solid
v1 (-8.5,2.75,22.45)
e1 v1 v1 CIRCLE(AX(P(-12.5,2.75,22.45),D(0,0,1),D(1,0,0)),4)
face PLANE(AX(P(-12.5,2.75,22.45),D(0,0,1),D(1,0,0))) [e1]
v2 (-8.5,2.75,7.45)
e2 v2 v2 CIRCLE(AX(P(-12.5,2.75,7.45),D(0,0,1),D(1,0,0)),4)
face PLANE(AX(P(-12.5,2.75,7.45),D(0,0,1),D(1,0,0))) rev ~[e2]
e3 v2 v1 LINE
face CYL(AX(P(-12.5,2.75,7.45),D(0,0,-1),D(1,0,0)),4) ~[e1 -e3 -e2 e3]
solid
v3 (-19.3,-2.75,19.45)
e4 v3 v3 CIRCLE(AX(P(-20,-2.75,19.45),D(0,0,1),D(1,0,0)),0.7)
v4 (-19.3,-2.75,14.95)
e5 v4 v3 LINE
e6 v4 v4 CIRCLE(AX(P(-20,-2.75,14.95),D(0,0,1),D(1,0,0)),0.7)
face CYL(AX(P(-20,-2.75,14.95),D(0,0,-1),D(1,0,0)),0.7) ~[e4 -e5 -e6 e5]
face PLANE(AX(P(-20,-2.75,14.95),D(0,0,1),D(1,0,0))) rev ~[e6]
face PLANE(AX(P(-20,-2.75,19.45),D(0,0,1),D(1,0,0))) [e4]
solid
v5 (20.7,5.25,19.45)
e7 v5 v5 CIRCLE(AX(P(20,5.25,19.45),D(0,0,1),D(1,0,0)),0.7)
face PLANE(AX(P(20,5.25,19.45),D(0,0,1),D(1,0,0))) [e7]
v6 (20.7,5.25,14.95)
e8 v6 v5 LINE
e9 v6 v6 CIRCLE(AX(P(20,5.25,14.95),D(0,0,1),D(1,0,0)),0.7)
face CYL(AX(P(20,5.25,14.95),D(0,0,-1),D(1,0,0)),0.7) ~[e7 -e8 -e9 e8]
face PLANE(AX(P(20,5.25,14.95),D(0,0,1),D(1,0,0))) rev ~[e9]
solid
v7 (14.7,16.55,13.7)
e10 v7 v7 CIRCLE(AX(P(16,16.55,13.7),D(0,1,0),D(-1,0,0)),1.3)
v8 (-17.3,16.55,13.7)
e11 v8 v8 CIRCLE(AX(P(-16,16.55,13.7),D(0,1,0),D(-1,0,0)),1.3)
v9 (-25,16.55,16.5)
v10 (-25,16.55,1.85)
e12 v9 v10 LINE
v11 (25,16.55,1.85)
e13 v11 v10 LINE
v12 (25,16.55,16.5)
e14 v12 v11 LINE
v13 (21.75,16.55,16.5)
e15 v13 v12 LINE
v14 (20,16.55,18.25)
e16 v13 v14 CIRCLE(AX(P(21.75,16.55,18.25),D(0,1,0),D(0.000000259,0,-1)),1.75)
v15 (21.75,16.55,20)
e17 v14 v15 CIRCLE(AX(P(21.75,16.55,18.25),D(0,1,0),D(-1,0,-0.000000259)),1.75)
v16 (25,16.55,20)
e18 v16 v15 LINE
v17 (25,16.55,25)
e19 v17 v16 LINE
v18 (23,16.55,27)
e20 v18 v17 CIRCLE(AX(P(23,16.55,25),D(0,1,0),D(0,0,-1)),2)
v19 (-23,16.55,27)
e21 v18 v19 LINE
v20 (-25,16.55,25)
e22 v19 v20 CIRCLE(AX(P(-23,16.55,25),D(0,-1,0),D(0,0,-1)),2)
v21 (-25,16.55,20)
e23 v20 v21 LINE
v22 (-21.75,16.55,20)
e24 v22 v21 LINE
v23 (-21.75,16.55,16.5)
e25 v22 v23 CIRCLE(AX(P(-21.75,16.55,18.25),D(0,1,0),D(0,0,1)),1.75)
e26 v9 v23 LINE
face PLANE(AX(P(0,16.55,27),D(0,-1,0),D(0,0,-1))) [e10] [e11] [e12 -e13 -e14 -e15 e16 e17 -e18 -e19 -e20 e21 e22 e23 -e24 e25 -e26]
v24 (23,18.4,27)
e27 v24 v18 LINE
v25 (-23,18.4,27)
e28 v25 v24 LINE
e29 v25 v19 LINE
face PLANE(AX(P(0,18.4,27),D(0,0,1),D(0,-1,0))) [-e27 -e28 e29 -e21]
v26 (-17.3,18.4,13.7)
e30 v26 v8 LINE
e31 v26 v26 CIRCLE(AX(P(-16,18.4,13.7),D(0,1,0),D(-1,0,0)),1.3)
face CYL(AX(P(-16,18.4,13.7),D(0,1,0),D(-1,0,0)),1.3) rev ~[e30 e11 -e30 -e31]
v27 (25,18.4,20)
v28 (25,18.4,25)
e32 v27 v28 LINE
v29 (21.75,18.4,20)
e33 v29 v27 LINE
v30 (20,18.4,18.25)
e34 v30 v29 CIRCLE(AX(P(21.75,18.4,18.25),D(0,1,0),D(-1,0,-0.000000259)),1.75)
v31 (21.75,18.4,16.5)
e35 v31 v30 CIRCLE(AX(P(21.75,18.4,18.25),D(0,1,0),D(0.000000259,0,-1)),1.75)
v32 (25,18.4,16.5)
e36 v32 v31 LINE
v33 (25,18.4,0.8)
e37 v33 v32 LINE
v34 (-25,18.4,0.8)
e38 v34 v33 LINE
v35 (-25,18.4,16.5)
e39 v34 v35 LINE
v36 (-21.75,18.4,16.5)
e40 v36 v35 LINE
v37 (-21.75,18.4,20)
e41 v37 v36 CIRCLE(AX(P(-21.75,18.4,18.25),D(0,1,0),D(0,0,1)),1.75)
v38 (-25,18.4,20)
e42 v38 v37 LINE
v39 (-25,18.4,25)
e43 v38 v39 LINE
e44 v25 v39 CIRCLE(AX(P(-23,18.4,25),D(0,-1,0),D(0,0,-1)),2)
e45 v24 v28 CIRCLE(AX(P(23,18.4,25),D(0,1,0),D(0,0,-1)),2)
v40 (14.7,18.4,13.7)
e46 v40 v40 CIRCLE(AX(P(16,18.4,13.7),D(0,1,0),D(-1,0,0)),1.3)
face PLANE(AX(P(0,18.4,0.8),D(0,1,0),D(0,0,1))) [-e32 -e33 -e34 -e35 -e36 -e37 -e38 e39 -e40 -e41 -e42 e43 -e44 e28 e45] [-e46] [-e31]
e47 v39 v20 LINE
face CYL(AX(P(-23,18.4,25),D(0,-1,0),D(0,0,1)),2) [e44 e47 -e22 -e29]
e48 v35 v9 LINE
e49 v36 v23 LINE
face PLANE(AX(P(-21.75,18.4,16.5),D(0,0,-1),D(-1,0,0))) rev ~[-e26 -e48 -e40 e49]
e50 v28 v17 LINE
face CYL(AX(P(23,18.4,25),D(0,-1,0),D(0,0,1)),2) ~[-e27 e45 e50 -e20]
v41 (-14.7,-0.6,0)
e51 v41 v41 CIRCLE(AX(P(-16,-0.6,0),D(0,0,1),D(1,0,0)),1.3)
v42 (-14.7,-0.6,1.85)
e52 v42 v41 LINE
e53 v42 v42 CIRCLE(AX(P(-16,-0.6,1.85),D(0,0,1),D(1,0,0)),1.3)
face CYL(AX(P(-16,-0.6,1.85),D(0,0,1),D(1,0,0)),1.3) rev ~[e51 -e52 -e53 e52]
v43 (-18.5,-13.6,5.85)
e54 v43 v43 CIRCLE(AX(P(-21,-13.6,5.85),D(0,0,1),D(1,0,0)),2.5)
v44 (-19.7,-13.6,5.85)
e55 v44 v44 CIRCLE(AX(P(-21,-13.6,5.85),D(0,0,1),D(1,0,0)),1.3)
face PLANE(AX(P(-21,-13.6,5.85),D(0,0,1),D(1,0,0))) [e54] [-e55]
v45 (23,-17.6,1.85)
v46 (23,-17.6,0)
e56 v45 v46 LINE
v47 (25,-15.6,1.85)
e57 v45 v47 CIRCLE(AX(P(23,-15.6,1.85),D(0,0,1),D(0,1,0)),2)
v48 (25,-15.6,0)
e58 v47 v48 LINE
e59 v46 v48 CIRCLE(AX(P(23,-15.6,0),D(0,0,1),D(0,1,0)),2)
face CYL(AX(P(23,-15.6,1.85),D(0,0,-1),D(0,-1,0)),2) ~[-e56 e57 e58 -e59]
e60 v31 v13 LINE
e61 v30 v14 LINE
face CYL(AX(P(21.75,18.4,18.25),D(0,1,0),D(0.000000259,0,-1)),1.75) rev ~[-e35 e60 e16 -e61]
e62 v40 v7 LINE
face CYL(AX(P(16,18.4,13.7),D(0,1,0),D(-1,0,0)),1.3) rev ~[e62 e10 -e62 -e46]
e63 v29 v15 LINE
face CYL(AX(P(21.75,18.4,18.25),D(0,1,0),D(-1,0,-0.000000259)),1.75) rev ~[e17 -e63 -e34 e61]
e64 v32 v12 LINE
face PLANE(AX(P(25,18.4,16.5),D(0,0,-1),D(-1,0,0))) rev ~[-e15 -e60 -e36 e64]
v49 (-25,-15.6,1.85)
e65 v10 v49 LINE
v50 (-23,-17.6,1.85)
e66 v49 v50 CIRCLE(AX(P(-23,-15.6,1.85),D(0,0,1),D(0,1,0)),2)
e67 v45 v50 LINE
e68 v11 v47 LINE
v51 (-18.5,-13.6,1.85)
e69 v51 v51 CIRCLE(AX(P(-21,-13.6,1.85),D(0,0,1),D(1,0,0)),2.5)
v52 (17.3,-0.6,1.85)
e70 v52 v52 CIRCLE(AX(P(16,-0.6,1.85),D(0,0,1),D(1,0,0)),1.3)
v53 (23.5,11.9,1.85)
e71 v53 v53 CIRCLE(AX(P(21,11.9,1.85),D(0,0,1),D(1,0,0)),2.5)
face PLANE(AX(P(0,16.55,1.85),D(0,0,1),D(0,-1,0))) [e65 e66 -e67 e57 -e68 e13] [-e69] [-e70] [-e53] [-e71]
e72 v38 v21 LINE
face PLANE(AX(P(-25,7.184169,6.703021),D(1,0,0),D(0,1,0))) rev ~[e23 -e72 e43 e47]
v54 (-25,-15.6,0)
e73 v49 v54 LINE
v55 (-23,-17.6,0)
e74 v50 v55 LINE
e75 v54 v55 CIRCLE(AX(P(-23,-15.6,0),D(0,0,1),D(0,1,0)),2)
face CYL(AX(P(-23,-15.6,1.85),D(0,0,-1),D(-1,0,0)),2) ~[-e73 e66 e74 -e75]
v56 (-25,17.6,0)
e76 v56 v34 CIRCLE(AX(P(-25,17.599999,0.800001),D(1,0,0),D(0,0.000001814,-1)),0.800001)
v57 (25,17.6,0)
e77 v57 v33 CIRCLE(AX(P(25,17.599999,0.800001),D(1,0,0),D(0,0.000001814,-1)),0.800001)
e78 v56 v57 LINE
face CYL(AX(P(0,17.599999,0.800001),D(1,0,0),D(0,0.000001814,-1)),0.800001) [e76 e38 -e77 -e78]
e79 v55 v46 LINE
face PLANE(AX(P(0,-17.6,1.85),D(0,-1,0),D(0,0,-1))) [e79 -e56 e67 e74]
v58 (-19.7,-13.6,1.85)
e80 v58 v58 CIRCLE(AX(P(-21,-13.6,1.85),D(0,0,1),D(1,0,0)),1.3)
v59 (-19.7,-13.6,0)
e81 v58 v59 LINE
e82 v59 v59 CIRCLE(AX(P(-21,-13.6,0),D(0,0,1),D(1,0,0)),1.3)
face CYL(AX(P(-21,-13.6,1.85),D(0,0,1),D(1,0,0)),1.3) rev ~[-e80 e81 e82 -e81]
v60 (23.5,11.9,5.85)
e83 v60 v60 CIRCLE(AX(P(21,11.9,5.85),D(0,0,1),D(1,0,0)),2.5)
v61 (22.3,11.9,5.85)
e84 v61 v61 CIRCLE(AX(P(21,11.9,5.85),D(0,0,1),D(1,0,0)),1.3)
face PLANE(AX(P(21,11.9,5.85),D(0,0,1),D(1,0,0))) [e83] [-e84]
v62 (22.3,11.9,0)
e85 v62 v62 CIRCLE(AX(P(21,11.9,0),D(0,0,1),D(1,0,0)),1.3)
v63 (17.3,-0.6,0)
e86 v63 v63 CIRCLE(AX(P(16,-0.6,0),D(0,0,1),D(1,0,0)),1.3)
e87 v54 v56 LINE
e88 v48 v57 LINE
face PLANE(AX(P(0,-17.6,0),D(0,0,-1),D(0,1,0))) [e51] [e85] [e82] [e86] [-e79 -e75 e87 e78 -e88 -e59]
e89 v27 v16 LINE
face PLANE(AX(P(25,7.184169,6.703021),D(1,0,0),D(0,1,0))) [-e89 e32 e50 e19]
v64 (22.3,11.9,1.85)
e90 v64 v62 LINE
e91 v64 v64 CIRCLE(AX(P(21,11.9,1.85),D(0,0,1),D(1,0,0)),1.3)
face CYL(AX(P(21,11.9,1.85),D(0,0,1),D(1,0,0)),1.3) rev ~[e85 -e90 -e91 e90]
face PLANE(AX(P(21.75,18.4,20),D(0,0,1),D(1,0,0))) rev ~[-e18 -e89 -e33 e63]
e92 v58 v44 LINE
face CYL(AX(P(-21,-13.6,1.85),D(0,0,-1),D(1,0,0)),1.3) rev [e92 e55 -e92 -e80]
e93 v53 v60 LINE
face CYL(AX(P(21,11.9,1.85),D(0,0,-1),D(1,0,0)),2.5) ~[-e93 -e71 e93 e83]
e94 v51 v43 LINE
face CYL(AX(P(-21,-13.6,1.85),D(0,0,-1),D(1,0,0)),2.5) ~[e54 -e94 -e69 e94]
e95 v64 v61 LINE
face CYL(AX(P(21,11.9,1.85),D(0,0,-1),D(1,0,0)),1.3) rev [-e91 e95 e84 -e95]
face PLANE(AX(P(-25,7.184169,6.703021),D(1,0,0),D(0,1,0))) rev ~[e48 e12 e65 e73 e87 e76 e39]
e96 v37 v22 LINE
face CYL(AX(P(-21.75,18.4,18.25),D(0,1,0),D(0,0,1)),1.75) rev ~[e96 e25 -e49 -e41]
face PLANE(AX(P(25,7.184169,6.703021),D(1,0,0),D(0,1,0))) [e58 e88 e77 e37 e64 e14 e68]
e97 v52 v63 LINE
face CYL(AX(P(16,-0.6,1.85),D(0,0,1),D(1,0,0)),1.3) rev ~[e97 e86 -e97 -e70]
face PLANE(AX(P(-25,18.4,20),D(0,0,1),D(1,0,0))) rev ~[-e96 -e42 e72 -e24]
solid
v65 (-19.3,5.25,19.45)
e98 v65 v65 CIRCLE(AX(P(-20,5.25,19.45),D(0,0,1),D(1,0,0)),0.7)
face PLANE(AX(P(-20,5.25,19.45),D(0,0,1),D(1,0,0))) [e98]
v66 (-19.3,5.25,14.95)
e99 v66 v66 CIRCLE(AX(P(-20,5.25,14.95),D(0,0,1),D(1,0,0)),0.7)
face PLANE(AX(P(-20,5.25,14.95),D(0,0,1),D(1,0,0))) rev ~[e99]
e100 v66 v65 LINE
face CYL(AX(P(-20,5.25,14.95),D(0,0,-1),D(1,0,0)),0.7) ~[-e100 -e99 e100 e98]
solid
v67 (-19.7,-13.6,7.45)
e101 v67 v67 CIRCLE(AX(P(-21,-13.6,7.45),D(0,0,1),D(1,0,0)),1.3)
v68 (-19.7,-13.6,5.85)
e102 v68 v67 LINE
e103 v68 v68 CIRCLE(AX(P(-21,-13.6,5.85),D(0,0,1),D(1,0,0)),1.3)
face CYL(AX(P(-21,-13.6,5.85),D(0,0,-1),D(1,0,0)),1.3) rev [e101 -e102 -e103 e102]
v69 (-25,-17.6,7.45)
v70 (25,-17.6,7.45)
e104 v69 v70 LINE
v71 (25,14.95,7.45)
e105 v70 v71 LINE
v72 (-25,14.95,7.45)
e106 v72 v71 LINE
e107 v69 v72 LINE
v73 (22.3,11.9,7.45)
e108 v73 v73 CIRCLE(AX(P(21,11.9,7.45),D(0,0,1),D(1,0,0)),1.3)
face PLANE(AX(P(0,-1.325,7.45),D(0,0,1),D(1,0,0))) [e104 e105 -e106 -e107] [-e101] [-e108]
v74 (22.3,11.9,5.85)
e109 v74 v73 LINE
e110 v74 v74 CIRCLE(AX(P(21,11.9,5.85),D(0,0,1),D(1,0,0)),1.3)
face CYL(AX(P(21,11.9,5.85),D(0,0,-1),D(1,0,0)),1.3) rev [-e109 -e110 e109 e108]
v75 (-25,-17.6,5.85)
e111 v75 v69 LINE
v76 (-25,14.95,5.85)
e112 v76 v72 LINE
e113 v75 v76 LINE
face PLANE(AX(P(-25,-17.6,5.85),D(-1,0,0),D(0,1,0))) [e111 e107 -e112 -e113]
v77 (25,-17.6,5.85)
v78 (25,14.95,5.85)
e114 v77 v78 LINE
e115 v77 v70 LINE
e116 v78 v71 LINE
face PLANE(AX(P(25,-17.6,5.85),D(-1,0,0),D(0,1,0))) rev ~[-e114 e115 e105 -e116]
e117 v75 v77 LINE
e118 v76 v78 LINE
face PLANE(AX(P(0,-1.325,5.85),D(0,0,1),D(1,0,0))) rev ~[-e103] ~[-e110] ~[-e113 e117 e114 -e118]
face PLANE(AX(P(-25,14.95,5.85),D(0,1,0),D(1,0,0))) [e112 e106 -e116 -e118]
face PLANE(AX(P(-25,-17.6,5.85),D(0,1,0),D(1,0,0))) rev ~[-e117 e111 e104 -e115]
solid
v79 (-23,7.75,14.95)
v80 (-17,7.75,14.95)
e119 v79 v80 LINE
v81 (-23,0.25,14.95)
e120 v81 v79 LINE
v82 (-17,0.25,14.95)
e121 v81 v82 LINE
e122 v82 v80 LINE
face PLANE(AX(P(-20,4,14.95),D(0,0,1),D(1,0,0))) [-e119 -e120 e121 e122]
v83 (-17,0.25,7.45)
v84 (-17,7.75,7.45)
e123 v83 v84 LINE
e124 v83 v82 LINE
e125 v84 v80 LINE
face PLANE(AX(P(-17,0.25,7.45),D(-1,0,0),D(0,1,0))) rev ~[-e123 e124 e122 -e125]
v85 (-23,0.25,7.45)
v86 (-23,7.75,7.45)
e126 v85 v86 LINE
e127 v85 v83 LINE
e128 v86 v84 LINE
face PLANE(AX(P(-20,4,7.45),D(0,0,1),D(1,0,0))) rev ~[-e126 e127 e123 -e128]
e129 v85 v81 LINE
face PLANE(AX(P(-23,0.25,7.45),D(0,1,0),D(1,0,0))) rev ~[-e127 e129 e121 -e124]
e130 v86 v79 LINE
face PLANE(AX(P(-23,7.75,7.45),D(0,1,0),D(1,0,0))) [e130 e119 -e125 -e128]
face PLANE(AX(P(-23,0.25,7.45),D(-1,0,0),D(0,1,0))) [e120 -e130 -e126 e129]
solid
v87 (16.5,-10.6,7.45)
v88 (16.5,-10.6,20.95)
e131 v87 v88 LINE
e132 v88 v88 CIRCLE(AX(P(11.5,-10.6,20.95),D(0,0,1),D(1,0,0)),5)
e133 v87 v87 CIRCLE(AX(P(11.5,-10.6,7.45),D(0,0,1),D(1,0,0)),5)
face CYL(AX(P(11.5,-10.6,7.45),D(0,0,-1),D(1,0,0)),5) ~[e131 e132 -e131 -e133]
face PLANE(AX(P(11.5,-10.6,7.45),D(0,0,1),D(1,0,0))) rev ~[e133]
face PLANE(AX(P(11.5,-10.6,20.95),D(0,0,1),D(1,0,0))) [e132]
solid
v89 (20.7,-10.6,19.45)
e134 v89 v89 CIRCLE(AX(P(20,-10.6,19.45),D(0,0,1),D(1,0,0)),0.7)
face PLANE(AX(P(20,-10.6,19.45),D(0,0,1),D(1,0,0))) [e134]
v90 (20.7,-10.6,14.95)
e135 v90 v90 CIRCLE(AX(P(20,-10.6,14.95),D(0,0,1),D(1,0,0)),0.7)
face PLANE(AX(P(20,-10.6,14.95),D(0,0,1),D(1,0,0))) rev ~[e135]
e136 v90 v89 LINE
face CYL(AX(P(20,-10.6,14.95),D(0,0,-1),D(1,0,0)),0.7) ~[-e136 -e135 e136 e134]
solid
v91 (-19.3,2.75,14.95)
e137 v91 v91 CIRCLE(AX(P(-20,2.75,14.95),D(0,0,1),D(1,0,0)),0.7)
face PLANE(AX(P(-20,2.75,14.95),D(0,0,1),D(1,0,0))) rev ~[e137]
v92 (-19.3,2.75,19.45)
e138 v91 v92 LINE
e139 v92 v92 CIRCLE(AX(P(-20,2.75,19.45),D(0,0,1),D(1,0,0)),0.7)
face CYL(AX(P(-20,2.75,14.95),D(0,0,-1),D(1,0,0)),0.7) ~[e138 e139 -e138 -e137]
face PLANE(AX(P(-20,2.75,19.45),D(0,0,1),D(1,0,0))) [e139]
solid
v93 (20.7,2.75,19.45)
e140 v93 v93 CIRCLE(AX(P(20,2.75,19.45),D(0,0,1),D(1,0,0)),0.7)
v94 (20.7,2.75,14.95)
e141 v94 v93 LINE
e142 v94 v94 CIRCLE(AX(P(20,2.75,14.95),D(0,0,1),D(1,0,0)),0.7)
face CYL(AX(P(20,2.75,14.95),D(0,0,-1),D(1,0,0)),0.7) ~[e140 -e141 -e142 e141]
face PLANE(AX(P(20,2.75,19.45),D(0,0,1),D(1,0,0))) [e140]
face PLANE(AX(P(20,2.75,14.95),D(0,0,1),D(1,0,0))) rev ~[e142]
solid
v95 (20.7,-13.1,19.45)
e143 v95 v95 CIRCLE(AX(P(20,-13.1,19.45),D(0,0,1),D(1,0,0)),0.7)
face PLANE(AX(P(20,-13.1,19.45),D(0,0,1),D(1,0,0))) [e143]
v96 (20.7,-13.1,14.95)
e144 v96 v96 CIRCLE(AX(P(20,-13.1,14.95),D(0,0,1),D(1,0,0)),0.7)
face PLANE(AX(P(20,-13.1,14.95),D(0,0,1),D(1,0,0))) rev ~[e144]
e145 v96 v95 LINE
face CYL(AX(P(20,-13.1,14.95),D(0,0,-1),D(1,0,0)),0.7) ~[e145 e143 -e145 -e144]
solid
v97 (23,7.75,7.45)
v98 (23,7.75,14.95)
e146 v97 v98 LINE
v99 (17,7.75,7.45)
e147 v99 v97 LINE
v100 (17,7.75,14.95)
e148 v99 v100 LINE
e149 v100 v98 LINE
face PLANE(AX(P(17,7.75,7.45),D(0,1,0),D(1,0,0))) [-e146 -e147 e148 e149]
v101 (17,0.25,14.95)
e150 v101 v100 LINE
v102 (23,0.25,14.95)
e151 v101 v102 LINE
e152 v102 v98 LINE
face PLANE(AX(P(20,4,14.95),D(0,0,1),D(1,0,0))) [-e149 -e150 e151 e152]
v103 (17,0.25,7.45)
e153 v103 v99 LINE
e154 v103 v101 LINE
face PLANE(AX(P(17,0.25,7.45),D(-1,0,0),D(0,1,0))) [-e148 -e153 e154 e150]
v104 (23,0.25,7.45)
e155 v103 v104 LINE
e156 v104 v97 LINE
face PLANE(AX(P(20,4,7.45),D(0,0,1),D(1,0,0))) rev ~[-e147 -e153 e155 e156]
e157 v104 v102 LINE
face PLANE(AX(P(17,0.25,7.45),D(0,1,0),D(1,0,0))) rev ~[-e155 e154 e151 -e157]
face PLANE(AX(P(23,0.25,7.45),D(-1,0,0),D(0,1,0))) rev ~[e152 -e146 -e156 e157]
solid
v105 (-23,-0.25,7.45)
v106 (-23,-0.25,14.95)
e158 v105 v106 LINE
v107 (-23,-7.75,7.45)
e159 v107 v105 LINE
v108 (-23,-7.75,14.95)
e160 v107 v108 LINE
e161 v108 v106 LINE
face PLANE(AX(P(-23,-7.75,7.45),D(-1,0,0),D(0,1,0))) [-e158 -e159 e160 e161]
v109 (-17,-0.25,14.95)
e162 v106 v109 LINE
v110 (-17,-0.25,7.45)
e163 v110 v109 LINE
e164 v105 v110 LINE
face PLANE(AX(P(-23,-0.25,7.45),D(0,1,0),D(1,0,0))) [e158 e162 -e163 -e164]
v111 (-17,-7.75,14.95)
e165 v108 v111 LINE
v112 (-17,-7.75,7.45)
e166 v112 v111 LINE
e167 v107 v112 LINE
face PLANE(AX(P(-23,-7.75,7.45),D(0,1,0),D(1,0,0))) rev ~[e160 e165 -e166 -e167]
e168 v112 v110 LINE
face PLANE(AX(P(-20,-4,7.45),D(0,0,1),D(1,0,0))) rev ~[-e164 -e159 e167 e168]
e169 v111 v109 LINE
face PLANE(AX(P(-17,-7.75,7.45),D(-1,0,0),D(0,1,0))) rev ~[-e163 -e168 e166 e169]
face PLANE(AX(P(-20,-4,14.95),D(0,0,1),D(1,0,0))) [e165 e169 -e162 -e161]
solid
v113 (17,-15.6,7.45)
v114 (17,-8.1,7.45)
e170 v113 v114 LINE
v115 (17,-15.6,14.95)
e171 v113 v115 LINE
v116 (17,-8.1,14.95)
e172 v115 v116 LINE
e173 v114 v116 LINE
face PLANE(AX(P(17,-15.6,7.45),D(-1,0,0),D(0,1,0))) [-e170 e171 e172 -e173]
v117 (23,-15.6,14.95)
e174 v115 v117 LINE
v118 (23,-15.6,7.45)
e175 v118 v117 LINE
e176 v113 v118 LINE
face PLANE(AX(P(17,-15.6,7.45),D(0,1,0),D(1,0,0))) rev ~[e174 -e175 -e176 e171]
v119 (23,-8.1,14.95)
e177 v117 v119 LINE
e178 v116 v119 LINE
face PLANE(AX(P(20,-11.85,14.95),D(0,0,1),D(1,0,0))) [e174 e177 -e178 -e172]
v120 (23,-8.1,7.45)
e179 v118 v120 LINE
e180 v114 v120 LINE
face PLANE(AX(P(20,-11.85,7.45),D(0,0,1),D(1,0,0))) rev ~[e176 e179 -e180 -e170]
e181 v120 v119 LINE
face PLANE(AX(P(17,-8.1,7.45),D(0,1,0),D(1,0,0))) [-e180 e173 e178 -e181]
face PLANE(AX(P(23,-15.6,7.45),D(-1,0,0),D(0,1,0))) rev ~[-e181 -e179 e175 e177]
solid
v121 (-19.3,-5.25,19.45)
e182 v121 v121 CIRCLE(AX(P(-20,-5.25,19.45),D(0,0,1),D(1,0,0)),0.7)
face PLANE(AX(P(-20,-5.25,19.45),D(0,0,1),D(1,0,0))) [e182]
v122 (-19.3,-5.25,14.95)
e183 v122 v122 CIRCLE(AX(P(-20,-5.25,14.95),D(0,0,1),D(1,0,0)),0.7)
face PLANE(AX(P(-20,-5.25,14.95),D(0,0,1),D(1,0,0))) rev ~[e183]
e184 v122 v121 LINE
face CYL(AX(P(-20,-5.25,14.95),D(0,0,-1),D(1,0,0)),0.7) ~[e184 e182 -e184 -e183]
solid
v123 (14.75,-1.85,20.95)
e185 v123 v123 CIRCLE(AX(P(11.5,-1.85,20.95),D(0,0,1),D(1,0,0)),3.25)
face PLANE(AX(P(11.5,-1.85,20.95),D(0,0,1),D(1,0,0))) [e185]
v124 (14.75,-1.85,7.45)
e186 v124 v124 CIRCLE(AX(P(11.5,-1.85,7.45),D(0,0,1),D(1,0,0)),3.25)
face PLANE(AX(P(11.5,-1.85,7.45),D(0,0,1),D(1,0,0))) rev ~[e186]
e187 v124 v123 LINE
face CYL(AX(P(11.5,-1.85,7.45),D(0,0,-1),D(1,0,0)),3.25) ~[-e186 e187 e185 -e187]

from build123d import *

# Parameters (mm, degrees)
F1_DEPTH  = 25
F2_R      = 1.3
F3_DEPTH  = 1.851
F2_R_2    = 2.5
F4_DEPTH  = 4
F5_R      = 1.3
F6_DEPTH  = 36.001
F7_R      = 2
F8_W      = 50
F8_H      = 32.55
F8_R      = 2.5
F8_R_2    = 1.3
F9_DEPTH  = 1.6
F10_W     = 6
F10_H     = 7.5
F11_DEPTH = 7.5
F10_R     = 5
F10_R_2   = 3.25
F12_DEPTH = 13.5
F10_R_3   = 4
F13_DEPTH = 15
F14_R     = 0.7
F15_DEPTH = 4.5


with BuildPart() as f1:
    # F0 (on Right) → F1 (new body, symmetric)
    with BuildSketch(Plane.YZ):
        with BuildLine():
            Line((-17.6, 1.85), (-17.6, 0))
            Line((-17.6, 0), (17.6, 0))
            ThreePointArc((17.6, 0), (18.165685, 0.234315), (18.4, 0.8))
            Line((18.4, 0.8), (18.4, 27))
            Line((18.4, 27), (16.55, 27))
            Line((16.55, 27), (16.55, 1.85))
            Line((16.55, 1.85), (-17.6, 1.85))
        make_face()
    extrude(amount=F1_DEPTH, both=True)

    # F2 (on face) → F3 (cut, through all)
    with BuildSketch(Plane.XY.offset(1.85)):
        with Locations((-21, -13.6)):
            Circle(F2_R)
        with Locations((-16, -0.6)):
            Circle(F2_R)
        with Locations((21, 11.9)):
            Circle(F2_R)
        with Locations((16, -0.6)):
            Circle(F2_R)
    extrude(amount=-F3_DEPTH, mode=Mode.SUBTRACT)

    # F2 (on face) → F4 (join)
    with BuildSketch(Plane.XY.offset(1.85)):
        with Locations((-21, -13.6)):
            Circle(F2_R_2)
        with Locations((-21, -13.6)):
            Circle(F2_R, mode=Mode.SUBTRACT)
        with Locations((21, 11.9)):
            Circle(F2_R_2)
        with Locations((21, 11.9)):
            Circle(F2_R, mode=Mode.SUBTRACT)
    extrude(amount=F4_DEPTH)

    # F5 (on face) → F6 (cut, through all)
    with BuildSketch(Plane(origin=(0, 18.4, 0), x_dir=(-1, 0, 0), z_dir=(0, 1, 0))):
        with Locations((-16, 13.7)):
            Circle(F5_R)
        with Locations((16, 13.7)):
            Circle(F5_R)
        with BuildLine():
            Line((25, 16.5), (25, 20))
            Line((25, 20), (21.75, 20))
            ThreePointArc((21.75, 20), (22.987437, 19.487437), (23.5, 18.25))
            ThreePointArc((23.5, 18.25), (22.987437, 17.012563), (21.75, 16.5))
            Line((21.75, 16.5), (25, 16.5))
        make_face()
        with BuildLine():
            ThreePointArc((23.5, 18.25), (22.987437, 19.487437), (21.75, 20))
            ThreePointArc((21.75, 20), (20, 18.25), (21.75, 16.5))
            ThreePointArc((21.75, 16.5), (22.987437, 17.012563), (23.5, 18.25))
        make_face()
        with BuildLine():
            ThreePointArc((-21.75, 16.5), (-23.5, 18.25), (-21.75, 20))
            Line((-21.75, 20), (-25, 20))
            Line((-25, 20), (-25, 16.5))
            Line((-25, 16.5), (-21.75, 16.5))
        make_face()
        with BuildLine():
            ThreePointArc((-21.75, 16.5), (-20.512563, 17.012563), (-20, 18.25))
            ThreePointArc((-20, 18.25), (-20.512563, 19.487437), (-21.75, 20))
            ThreePointArc((-21.75, 20), (-23.5, 18.25), (-21.75, 16.5))
        make_face()
    extrude(amount=-F6_DEPTH, mode=Mode.SUBTRACT)

    # F7
    f7_edges = [f1.edges().sort_by_distance(p)[0] for p in [
        (25, -17.6, 0.925),
        (-25, -17.6, 0.925),
        (-25, 17.475, 27),
        (25, 17.475, 27),
    ]]
    fillet(f7_edges, radius=F7_R)


with BuildPart() as f9:
    # F8 (on face) → F9 (new body)
    with BuildSketch(Plane.XY.offset(5.85)):
        with Locations((0, -1.325)):
            Rectangle(F8_W, F8_H)
        with Locations((-21, -13.6)):
            Circle(F8_R, mode=Mode.SUBTRACT)
        with Locations((21, 11.9)):
            Circle(F8_R_2, mode=Mode.SUBTRACT)
        with Locations((-21, -13.6)):
            Circle(F8_R)
        with Locations((-21, -13.6)):
            Circle(F8_R_2, mode=Mode.SUBTRACT)
    extrude(amount=F9_DEPTH)


with BuildPart() as f11:
    # F10 (on face) → F11 (new body)
    with BuildSketch(Plane.XY.offset(7.45)):
        with Locations((-20, 4)):
            Rectangle(F10_W, F10_H)
        with Locations((-20, -4)):
            Rectangle(F10_W, F10_H)
        with Locations((20, -11.85)):
            Rectangle(F10_W, F10_H)
        with Locations((20, 4)):
            Rectangle(F10_W, F10_H)
    extrude(amount=F11_DEPTH)


with BuildPart() as f12:
    # F10 (on face) → F12 (new body)
    with BuildSketch(Plane.XY.offset(7.45)):
        with Locations((11.5, -10.6)):
            Circle(F10_R)
        with Locations((11.5, -1.85)):
            Circle(F10_R_2)
    extrude(amount=F12_DEPTH)


with BuildPart() as f13:
    # F10 (on face) → F13 (new body)
    with BuildSketch(Plane.XY.offset(7.45)):
        with Locations((-12.5, 2.75)):
            Circle(F10_R_3)
    extrude(amount=F13_DEPTH)


with BuildPart() as f15:
    # F14 (on face) → F15 (new body)
    with BuildSketch(Plane.XY.offset(14.95)):
        with Locations((20, -13.1)):
            Circle(F14_R)
        with Locations((20, 2.75)):
            Circle(F14_R)
        with Locations((-20, 2.75)):
            Circle(F14_R)
        with Locations((-20, -5.25)):
            Circle(F14_R)
        with Locations((20, -10.6)):
            Circle(F14_R)
        with Locations((20, 5.25)):
            Circle(F14_R)
        with Locations((-20, 5.25)):
            Circle(F14_R)
        with Locations((-20, -2.75)):
            Circle(F14_R)
    extrude(amount=F15_DEPTH)


solid = Compound([f1.part, f9.part, f11.part, f12.part, f13.part, f15.part])
